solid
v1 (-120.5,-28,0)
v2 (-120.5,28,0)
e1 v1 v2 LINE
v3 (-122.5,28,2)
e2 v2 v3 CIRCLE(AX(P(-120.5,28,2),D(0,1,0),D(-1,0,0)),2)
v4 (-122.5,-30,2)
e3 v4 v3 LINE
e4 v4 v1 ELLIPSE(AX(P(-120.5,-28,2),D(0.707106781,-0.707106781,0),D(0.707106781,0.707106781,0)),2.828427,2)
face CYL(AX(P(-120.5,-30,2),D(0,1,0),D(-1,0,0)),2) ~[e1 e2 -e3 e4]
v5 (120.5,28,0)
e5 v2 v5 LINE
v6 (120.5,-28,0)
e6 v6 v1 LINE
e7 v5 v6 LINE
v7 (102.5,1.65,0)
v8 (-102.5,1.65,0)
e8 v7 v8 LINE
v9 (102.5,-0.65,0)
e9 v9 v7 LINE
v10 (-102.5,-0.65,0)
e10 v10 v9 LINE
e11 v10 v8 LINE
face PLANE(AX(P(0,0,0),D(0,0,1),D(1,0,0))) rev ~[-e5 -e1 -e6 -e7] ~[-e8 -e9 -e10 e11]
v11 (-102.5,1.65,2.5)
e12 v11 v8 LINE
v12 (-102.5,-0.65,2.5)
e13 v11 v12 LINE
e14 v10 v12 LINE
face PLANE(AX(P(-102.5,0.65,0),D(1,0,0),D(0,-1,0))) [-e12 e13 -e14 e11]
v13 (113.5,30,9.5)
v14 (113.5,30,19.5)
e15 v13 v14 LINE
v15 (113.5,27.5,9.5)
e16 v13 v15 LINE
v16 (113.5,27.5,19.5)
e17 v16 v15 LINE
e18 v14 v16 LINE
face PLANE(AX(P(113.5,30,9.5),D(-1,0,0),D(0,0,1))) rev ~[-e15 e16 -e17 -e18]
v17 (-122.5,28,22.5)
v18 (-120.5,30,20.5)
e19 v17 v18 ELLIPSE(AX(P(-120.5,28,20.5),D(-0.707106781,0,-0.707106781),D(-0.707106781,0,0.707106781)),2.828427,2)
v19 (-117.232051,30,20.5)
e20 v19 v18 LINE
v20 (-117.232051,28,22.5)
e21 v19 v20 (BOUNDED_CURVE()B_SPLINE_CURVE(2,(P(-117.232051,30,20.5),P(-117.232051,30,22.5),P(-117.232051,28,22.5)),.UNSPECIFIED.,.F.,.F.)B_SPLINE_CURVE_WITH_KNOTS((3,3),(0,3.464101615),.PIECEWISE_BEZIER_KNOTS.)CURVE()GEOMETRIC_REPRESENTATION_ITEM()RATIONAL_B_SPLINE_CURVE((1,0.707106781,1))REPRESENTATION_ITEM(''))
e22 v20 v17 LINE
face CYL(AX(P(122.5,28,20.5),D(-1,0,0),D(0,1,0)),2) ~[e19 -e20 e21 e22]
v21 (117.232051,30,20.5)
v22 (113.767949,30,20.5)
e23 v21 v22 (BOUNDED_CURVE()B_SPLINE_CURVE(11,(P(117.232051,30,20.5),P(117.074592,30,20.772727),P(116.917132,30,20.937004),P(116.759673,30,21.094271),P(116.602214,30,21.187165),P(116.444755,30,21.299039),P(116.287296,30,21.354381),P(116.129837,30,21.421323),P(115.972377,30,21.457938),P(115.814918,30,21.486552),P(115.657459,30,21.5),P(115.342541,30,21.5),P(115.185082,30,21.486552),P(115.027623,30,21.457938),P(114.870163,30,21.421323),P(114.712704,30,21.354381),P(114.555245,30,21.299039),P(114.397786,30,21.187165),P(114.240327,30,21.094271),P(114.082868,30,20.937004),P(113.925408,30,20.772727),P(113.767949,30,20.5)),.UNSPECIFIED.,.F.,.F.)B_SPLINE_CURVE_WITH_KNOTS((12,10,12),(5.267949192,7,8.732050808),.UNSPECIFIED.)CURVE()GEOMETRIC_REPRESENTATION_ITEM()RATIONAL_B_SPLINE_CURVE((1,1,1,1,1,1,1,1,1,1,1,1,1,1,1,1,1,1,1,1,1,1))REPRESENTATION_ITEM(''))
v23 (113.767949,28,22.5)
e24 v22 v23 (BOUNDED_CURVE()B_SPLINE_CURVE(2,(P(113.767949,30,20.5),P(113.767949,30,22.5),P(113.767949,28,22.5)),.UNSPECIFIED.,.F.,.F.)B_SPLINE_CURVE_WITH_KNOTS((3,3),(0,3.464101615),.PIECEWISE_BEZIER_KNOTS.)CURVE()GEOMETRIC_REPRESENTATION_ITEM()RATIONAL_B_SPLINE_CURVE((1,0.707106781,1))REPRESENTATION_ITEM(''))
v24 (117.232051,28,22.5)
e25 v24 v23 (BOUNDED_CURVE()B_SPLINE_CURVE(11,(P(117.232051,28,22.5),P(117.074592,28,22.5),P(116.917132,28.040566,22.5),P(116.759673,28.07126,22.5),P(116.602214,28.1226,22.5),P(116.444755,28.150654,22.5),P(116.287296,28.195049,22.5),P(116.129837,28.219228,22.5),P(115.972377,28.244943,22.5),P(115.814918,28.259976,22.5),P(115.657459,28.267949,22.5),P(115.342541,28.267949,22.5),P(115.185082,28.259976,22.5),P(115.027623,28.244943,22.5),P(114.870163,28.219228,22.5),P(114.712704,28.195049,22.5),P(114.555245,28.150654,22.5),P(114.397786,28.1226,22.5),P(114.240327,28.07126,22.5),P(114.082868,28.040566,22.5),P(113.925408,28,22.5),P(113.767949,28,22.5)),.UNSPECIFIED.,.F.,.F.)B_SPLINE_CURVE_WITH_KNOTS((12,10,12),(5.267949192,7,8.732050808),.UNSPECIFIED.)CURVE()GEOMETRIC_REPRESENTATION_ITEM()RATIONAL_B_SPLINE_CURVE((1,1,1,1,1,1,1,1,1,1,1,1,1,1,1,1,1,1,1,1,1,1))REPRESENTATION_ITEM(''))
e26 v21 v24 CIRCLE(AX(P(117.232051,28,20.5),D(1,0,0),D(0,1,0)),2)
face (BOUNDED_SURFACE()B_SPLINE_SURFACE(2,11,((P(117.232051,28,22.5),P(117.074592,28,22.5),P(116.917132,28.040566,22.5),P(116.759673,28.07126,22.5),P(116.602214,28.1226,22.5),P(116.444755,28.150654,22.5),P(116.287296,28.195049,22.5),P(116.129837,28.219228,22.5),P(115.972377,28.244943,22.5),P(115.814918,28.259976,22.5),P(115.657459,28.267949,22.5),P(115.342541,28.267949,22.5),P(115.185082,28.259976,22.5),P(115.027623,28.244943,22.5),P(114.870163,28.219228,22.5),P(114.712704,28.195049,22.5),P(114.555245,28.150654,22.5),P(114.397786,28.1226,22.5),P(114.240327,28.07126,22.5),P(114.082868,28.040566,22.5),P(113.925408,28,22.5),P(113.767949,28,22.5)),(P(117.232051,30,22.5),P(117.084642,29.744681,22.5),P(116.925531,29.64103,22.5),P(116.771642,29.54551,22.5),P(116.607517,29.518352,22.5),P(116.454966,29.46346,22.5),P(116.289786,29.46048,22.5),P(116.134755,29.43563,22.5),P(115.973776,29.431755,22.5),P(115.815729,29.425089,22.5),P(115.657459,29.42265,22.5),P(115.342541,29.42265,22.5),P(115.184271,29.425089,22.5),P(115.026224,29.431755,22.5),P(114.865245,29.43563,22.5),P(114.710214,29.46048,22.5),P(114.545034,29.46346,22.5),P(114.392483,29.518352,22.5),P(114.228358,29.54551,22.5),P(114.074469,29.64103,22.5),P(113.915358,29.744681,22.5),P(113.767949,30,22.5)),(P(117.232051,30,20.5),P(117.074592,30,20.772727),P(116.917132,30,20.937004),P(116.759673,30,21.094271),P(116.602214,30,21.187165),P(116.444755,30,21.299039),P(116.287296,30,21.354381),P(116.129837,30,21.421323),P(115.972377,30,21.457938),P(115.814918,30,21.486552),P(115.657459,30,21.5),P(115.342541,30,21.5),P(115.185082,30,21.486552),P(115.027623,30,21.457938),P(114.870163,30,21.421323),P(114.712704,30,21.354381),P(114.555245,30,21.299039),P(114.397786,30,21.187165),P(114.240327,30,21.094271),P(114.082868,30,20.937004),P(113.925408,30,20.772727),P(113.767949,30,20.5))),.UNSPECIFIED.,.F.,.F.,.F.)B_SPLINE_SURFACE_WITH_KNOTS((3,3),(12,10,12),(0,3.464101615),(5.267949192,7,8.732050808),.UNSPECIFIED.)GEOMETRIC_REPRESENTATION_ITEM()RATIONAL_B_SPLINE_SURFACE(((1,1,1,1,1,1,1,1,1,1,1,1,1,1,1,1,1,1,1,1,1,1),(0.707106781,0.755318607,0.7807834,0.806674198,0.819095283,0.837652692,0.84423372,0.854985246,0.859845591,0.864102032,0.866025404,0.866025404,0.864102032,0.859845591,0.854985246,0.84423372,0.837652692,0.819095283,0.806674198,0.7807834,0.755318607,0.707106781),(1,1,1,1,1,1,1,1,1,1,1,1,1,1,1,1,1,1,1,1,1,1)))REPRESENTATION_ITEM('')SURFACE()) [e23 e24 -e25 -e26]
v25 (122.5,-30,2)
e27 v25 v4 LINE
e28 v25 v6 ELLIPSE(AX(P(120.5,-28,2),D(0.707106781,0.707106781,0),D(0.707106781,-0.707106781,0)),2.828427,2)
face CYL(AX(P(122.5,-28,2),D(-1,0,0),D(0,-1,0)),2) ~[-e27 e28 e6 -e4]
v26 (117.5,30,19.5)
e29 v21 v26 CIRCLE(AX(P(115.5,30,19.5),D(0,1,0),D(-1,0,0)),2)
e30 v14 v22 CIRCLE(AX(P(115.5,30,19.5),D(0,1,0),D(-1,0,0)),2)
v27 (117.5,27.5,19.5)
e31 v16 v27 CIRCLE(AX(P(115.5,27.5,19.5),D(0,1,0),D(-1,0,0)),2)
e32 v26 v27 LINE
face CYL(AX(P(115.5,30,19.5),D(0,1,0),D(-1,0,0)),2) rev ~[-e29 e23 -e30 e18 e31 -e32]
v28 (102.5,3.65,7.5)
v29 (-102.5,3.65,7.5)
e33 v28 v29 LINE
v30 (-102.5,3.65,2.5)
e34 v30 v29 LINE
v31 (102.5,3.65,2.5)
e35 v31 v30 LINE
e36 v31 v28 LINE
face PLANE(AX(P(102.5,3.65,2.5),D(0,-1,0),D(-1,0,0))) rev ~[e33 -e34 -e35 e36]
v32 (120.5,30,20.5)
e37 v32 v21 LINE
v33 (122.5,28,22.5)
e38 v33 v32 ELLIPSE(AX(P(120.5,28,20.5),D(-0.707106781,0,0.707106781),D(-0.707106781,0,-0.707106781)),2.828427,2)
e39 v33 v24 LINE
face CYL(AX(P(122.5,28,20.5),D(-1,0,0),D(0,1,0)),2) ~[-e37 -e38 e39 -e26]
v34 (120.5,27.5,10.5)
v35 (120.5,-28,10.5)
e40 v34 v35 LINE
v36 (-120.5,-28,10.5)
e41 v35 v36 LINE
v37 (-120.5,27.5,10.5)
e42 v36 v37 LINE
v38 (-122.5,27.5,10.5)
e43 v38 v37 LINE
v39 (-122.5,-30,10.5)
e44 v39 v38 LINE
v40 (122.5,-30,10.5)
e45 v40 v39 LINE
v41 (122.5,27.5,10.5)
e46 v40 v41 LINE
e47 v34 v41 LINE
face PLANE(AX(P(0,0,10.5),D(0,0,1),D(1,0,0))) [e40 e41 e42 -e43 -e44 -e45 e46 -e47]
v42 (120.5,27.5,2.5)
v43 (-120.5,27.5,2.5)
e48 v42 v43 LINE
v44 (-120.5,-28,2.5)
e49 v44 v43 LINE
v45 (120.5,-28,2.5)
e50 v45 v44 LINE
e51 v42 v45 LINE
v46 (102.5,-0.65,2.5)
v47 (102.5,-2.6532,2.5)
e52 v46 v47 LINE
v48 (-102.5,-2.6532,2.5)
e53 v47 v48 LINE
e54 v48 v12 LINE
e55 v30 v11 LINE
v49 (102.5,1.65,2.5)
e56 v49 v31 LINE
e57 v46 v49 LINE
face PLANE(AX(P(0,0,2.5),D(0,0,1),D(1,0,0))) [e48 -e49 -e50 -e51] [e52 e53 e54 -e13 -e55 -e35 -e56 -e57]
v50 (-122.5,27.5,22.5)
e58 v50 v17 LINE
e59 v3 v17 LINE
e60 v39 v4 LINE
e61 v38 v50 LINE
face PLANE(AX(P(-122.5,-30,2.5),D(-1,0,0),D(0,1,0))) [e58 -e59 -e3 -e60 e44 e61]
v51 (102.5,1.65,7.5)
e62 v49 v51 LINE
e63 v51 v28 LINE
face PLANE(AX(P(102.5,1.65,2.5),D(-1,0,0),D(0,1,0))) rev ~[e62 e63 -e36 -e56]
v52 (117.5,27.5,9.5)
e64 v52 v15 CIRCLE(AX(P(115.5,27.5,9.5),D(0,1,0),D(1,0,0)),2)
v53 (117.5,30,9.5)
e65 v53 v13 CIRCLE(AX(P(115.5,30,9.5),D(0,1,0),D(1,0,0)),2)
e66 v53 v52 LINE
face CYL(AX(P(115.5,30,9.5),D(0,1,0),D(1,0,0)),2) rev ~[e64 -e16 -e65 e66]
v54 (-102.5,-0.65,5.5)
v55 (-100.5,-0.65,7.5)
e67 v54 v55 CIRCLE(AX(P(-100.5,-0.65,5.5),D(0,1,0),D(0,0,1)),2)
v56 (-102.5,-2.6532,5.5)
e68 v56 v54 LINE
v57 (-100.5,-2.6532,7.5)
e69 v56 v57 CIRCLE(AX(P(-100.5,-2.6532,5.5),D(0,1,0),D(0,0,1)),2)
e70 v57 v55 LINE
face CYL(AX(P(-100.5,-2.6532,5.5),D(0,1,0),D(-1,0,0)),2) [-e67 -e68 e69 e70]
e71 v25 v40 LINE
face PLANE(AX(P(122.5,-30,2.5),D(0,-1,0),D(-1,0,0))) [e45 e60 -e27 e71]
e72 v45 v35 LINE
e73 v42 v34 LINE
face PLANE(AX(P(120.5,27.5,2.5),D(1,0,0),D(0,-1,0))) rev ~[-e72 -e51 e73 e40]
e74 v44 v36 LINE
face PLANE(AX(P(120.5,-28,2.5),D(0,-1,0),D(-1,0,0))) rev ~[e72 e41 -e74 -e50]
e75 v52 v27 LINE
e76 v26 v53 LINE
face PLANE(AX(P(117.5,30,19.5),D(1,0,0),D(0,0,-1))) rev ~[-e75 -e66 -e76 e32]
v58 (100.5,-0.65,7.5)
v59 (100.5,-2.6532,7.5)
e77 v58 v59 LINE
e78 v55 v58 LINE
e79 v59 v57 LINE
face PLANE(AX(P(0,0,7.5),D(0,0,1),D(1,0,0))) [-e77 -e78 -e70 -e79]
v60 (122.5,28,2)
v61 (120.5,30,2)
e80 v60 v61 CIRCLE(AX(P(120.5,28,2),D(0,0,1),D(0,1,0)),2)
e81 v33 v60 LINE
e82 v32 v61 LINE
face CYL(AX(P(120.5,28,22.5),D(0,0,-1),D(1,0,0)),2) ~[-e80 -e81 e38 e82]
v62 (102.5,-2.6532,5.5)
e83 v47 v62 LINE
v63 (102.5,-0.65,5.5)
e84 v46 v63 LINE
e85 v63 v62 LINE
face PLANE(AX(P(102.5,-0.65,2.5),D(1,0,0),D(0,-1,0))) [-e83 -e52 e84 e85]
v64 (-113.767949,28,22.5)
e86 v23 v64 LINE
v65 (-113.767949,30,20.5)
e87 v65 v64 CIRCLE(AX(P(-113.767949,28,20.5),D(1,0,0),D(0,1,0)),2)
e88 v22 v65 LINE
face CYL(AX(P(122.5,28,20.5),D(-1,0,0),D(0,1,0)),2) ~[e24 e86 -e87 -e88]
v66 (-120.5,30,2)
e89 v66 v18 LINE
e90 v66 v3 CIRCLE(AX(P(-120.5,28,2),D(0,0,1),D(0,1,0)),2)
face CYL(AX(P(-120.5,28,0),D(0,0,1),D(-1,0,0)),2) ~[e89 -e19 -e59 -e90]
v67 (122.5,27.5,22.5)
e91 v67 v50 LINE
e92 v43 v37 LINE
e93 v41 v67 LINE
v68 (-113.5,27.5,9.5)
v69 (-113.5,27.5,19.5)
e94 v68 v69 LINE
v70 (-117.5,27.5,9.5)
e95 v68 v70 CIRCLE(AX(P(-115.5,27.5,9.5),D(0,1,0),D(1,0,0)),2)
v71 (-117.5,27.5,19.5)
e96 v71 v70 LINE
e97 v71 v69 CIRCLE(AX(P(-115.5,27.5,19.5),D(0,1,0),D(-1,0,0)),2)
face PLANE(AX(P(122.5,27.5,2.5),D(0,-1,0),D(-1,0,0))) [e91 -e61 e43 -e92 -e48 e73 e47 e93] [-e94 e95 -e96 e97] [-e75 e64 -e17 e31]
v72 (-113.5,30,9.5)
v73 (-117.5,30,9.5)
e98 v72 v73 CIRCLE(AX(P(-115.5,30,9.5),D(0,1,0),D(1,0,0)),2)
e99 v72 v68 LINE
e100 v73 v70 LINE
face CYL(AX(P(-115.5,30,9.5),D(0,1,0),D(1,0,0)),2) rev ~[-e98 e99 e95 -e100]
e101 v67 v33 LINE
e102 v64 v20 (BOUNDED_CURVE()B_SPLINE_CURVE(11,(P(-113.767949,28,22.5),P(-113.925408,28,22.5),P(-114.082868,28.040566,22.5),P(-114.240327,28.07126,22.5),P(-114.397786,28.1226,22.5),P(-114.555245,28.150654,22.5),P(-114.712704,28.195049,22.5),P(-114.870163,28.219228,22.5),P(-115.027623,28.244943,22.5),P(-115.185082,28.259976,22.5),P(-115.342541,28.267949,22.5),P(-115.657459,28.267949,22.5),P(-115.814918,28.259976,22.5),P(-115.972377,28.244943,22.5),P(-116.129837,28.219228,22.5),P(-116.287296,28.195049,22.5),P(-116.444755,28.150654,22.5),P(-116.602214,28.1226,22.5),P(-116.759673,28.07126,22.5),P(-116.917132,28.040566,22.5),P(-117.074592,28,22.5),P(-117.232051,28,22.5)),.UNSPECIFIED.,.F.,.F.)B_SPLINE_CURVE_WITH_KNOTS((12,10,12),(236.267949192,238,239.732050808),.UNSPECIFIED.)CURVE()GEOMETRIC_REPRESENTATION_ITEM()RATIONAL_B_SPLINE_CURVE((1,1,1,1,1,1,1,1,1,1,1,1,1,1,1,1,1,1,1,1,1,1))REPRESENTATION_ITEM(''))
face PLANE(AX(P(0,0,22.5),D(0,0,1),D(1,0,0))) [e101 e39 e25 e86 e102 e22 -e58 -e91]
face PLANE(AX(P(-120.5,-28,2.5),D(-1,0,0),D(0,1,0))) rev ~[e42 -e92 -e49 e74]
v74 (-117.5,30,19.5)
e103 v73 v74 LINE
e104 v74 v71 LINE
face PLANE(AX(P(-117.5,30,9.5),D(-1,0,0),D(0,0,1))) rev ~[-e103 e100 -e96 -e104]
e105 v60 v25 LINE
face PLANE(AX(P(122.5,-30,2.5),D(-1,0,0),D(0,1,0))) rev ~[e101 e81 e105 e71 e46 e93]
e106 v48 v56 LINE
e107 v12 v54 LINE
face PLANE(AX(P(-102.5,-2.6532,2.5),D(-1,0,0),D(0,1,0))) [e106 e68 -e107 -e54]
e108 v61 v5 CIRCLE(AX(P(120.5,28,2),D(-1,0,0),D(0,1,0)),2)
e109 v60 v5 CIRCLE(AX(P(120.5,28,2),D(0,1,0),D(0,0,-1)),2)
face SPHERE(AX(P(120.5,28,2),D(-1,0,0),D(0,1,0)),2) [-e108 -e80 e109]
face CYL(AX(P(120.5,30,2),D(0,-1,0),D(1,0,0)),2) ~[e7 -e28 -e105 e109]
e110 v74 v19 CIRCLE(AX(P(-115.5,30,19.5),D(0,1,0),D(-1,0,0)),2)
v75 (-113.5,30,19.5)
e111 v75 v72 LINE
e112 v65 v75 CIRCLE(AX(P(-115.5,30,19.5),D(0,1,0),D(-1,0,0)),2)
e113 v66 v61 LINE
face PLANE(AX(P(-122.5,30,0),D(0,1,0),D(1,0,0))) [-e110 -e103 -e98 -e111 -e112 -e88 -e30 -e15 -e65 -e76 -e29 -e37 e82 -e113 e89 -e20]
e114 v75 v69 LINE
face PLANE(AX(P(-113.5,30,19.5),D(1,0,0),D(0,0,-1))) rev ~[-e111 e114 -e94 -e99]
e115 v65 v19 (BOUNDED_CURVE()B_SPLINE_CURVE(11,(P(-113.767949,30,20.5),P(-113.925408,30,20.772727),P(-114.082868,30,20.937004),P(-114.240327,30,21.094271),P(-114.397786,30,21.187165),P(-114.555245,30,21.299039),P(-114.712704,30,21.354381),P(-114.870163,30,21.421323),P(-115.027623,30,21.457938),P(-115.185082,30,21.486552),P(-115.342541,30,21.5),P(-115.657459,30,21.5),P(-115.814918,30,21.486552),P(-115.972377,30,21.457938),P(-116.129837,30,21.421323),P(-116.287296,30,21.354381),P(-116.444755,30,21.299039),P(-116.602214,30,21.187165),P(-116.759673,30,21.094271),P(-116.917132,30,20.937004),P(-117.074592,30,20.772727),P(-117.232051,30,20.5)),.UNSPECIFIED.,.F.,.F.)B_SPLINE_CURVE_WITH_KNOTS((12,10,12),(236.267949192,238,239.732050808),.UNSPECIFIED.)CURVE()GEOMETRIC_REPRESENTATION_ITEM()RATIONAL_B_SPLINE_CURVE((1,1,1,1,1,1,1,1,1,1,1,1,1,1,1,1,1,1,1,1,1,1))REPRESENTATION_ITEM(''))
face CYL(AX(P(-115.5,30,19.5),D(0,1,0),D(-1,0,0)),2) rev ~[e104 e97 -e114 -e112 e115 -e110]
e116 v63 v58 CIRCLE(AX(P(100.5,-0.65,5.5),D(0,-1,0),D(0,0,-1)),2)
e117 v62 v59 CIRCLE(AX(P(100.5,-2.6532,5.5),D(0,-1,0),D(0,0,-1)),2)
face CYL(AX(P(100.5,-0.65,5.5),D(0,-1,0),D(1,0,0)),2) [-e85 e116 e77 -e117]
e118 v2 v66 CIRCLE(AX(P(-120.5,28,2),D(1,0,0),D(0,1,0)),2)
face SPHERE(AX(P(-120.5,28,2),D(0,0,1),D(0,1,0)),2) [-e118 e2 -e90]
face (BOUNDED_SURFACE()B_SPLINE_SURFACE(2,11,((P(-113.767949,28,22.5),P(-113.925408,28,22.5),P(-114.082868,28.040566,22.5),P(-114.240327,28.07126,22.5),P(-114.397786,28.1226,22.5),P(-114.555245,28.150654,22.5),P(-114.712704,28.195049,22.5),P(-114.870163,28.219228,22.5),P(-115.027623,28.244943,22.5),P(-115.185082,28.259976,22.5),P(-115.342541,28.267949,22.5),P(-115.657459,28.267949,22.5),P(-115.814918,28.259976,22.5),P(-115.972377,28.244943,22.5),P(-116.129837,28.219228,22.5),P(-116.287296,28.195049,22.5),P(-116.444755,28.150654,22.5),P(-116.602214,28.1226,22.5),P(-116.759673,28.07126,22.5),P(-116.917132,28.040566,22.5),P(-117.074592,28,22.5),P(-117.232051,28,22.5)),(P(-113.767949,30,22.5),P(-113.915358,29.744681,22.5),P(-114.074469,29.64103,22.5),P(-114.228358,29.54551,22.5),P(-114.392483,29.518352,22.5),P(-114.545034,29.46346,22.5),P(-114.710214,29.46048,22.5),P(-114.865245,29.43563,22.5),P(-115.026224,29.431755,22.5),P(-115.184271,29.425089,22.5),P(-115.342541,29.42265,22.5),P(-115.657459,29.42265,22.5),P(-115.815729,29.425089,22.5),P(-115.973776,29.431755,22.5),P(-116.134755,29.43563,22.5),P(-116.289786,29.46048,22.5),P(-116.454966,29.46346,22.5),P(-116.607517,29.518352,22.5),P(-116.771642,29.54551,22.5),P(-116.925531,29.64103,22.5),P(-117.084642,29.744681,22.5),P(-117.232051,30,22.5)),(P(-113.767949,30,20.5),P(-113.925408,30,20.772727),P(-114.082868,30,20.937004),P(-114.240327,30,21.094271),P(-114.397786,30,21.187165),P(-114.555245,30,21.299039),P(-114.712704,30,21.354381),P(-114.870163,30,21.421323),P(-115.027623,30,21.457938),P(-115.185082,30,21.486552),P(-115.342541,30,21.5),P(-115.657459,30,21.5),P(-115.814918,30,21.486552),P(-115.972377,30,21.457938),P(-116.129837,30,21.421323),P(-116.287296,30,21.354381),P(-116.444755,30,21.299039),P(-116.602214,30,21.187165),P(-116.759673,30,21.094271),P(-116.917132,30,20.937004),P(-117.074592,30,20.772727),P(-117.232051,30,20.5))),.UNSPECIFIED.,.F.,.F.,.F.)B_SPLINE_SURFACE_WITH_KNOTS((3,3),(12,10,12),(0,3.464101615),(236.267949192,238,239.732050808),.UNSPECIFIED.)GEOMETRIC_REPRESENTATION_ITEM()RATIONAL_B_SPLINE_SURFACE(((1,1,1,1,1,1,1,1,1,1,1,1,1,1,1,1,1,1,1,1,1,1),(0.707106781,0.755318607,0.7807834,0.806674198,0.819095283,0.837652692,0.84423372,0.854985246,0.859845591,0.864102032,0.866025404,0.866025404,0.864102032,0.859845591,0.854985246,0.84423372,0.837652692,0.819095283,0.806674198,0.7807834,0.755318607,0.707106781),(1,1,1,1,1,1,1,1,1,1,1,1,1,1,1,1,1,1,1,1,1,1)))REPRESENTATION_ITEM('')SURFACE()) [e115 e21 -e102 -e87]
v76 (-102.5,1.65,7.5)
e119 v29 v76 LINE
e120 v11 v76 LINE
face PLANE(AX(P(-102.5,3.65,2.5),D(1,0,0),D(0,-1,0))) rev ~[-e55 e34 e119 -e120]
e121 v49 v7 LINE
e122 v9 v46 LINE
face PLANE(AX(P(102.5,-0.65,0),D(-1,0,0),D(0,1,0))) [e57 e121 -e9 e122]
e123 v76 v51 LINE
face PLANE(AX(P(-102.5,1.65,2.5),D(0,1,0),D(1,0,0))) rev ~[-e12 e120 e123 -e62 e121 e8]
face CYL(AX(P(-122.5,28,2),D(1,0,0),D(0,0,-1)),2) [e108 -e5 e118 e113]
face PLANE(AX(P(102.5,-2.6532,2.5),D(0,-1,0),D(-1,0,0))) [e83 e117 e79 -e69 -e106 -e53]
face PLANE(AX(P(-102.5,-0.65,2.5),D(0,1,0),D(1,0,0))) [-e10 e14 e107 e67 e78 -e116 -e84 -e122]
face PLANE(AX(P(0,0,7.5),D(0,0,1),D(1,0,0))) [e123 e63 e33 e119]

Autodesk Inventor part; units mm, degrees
ref_plane "YZ Plane" through (0, 0, 0) normal (1, 0, 0) x (0, 1, 0)
ref_plane "XZ Plane" through (0, 0, 0) normal (0, 1, 0) x (-1, 0, 0)
ref_plane "XY Plane" through (0, 0, 0) normal (0, 0, 1) x (1, 0, 0)
sketch "Skizze2" plane through (0, 0, 0) normal (0, 0, 1) x (1, 0, 0)
  line L0 (-122.5, 30) -> (122.5, 30)
  line L1 (122.5, 30) -> (122.5, -30)
  line L2 (122.5, -30) -> (-122.5, -30)
  line L3 (-122.5, -30) -> (-122.5, 30)
  line L4 (-122.5, 30) -> (122.5, -30) construction
  line L5 (122.5, 30) -> (-122.5, -30) construction
  point P0 (0, 0)
  dimension "d0" = 245
  dimension "d1" = 60
extrude "Extrusion1" add sketch "Skizze2" along normal blind 2.5
sketch "Skizze3" plane through (0, 0, 2.5) normal (0, 0, 1) x (1, 0, 0)
  line L0 (122.5, 30) -> (-122.5, 30) construction
  line L1 (-122.5, 30) -> (-122.5, -30) construction
  line L2 (-122.5, -30) -> (122.5, -30) construction
  line L3 (122.5, -30) -> (122.5, 30) construction
  line L4 (122.5, 30) -> (-122.5, 30) projected
  line L5 (122.5, -30) -> (122.5, 30) projected
  line L6 (-122.5, 30) -> (122.5, 30)
  line L7 (122.5, 30) -> (122.5, 27.5)
  line L8 (122.5, 27.5) -> (-122.5, 27.5)
  line L9 (-122.5, 27.5) -> (-122.5, 30)
  point P0 (0, 0)
  dimension "d4" = 2.5
extrude "Extrusion2" add sketch "Skizze3" along normal blind 20
sketch "Skizze4" plane through (-122.5, 30, 0) normal (0, 1, 0) x (1, 0, 0)
  line L0 (0, 0) -> (245, 0) construction
  line L1 (0, 0) -> (0, -22.5) construction
  line L2 (245, -22.5) -> (0, -22.5) construction
  line L3 (245, 0) -> (245, -22.5) construction
  line L4 (122.5, 0) -> (7, 0) construction
  line L5 (0, 0) -> (245, 0) construction
  line L6 (7, 0) -> (238, 0) construction
  line L7 (7, -22.5) -> (7, -14.5) construction
  line L8 (245, -22.5) -> (0, -22.5) projected
  line L9 (238, -22.5) -> (238, -14.5) construction
  line L10 (7, -19.5) -> (7, -9.5) construction
  line L11 (9, -19.5) -> (9, -9.5)
  line L12 (5, -9.5) -> (5, -19.5)
  arc A0 (5, -19.5) -> (9, -19.5) centre (7, -19.5) ccw
  arc A1 (9, -9.5) -> (5, -9.5) centre (7, -9.5) ccw
  line L13 (238, -9.5) -> (238, -19.5) construction
  line L14 (236, -9.5) -> (236, -19.5)
  line L15 (240, -19.5) -> (240, -9.5)
  arc A2 (240, -9.5) -> (236, -9.5) centre (238, -9.5) ccw
  arc A3 (236, -19.5) -> (240, -19.5) centre (238, -19.5) ccw
  dimension "d8" = 231
  dimension "d9" = 8
  dimension "d10" = 5
  dimension "d11" = 4
  dimension "d12" = 8
  dimension "d13" = 5
  dimension "d14" = 4
extrude "Extrusion3" cut sketch "Skizze4" against normal blind 20
sketch "Skizze5" plane through (0, 0, 2.5) normal (0, 0, 1) x (1, 0, 0)
  line L0 (122.5, 27.5) -> (-122.5, 27.5) construction
  line L1 (-122.5, 27.5) -> (-122.5, -30) construction
  line L2 (-122.5, -30) -> (122.5, -30) construction
  line L3 (122.5, -30) -> (122.5, 27.5) construction
  line L4 (122.5, -30) -> (122.5, 27.5) projected
  line L5 (122.5, 27.5) -> (122.5, -30)
  line L6 (122.5, -30) -> (-122.5, -30)
  line L7 (-122.5, -30) -> (-122.5, 27.5)
  line L8 (-122.5, 24.8143) -> (-120.5, 24.8143) construction
  line L9 (122.5, 16.3856) -> (120.5, 16.3856) construction
  line L10 (-122.5, -30) -> (122.5, -30) projected
  line L11 (0, -30) -> (0, -28) construction
  line L12 (120.5, 27.5) -> (120.5, -28)
  line L13 (120.5, -28) -> (-120.5, -28)
  line L14 (-120.5, -28) -> (-120.5, 27.5)
  line L15 (-122.5, 27.5) -> (-120.5, 27.5)
  line L16 (120.5, 27.5) -> (122.5, 27.5)
  point P0 (0, 0)
  dimension "d17" = 2
  dimension "d18" = 2
  dimension "d19" = 2
extrude "Extrusion4" add sketch "Skizze5" along normal blind 8
fillet "Rundung1" radius 2 7 edges at (-122.5, 30, 11.25) (0, 30, 0) (122.5, 30, 11.25) (0, 30, 22.5) (122.5, 0, 0) (-122.5, 0, 0) (0, -30, 0)
sketch "Skizze7" plane through (0, 0, 0) normal (0, 0, -1) x (-1, 0, 0)
  line L0 (120.5, 30) -> (-120.5, 30) construction
  line L1 (122.5, -30) -> (122.5, 28) construction
  line L2 (-122.5, -30) -> (122.5, -30) construction
  line L3 (-122.5, 28) -> (-122.5, -30) construction
  line L4 (0, 30) -> (0, 0) construction
  line L5 (-102.5, 0.65) -> (102.5, 0.65)
  line L6 (102.5, 0.65) -> (102.5, -0.65)
  line L7 (102.5, -0.65) -> (-102.5, -0.65)
  line L8 (-102.5, -0.65) -> (-102.5, 0.65)
  line L9 (-102.5, 0.65) -> (102.5, -0.65) construction
  line L10 (102.5, 0.65) -> (-102.5, -0.65) construction
  dimension "d28" = 205
  dimension "d29" = 1.3
extrude "Extrusion6" cut sketch "Skizze7" against normal blind 5
sketch "Skizze8" plane through (0, 0, 2.5) normal (0, 0, 1) x (1, 0, 0)
  line L0 (102.5, -0.65) -> (-102.5, -0.65) construction
  line L1 (-102.5, -0.65) -> (102.5, -0.65)
  line L2 (102.5, -0.65) -> (102.5, -2.6532)
  line L3 (102.5, -2.6532) -> (-102.5, -2.6532)
  line L4 (-102.5, -2.6532) -> (-102.5, -0.65)
  point P0 (0, 0)
extrude "Extrusion7" add sketch "Skizze8" along normal blind 5
fillet "Rundung2" radius 2 2 edges at (-102.5, -1.6516, 7.5) (102.5, -1.6516, 7.5)
sketch "Skizze9" plane through (0, 0, 2.5) normal (0, 0, 1) x (1, 0, 0)
  line L0 (-102.5, 0.65) -> (102.5, 0.65) construction
  line L1 (100.5, -0.65) -> (-100.5, -0.65) construction
  line L2 (-102.5, 0.65) -> (102.5, 0.65)
  line L3 (102.5, 0.65) -> (102.5, 1.65)
  line L4 (102.5, 1.65) -> (-102.5, 1.65)
  line L5 (-102.5, 1.65) -> (-102.5, 0.65)
  point P0 (0, 0)
  dimension "d35" = 1
extrude "Extrusion8" cut sketch "Skizze9" against normal blind 10
sketch "Skizze10" plane through (0, 0, 2.5) normal (0, 0, 1) x (1, 0, 0)
  line L0 (-102.5, 1.65) -> (102.5, 1.65) projected
  line L1 (-102.5, 1.65) -> (102.5, 1.65)
  line L2 (102.5, 1.65) -> (102.5, 3.65)
  line L3 (102.5, 3.65) -> (-102.5, 3.65)
  line L4 (-102.5, 3.65) -> (-102.5, 1.65)
  point P0 (0, 0)
  dimension "d38" = 2
extrude "Extrusion9" add sketch "Skizze10" along normal blind 5
properties part number "Basket" material "Acetalharz, Schwarz"
